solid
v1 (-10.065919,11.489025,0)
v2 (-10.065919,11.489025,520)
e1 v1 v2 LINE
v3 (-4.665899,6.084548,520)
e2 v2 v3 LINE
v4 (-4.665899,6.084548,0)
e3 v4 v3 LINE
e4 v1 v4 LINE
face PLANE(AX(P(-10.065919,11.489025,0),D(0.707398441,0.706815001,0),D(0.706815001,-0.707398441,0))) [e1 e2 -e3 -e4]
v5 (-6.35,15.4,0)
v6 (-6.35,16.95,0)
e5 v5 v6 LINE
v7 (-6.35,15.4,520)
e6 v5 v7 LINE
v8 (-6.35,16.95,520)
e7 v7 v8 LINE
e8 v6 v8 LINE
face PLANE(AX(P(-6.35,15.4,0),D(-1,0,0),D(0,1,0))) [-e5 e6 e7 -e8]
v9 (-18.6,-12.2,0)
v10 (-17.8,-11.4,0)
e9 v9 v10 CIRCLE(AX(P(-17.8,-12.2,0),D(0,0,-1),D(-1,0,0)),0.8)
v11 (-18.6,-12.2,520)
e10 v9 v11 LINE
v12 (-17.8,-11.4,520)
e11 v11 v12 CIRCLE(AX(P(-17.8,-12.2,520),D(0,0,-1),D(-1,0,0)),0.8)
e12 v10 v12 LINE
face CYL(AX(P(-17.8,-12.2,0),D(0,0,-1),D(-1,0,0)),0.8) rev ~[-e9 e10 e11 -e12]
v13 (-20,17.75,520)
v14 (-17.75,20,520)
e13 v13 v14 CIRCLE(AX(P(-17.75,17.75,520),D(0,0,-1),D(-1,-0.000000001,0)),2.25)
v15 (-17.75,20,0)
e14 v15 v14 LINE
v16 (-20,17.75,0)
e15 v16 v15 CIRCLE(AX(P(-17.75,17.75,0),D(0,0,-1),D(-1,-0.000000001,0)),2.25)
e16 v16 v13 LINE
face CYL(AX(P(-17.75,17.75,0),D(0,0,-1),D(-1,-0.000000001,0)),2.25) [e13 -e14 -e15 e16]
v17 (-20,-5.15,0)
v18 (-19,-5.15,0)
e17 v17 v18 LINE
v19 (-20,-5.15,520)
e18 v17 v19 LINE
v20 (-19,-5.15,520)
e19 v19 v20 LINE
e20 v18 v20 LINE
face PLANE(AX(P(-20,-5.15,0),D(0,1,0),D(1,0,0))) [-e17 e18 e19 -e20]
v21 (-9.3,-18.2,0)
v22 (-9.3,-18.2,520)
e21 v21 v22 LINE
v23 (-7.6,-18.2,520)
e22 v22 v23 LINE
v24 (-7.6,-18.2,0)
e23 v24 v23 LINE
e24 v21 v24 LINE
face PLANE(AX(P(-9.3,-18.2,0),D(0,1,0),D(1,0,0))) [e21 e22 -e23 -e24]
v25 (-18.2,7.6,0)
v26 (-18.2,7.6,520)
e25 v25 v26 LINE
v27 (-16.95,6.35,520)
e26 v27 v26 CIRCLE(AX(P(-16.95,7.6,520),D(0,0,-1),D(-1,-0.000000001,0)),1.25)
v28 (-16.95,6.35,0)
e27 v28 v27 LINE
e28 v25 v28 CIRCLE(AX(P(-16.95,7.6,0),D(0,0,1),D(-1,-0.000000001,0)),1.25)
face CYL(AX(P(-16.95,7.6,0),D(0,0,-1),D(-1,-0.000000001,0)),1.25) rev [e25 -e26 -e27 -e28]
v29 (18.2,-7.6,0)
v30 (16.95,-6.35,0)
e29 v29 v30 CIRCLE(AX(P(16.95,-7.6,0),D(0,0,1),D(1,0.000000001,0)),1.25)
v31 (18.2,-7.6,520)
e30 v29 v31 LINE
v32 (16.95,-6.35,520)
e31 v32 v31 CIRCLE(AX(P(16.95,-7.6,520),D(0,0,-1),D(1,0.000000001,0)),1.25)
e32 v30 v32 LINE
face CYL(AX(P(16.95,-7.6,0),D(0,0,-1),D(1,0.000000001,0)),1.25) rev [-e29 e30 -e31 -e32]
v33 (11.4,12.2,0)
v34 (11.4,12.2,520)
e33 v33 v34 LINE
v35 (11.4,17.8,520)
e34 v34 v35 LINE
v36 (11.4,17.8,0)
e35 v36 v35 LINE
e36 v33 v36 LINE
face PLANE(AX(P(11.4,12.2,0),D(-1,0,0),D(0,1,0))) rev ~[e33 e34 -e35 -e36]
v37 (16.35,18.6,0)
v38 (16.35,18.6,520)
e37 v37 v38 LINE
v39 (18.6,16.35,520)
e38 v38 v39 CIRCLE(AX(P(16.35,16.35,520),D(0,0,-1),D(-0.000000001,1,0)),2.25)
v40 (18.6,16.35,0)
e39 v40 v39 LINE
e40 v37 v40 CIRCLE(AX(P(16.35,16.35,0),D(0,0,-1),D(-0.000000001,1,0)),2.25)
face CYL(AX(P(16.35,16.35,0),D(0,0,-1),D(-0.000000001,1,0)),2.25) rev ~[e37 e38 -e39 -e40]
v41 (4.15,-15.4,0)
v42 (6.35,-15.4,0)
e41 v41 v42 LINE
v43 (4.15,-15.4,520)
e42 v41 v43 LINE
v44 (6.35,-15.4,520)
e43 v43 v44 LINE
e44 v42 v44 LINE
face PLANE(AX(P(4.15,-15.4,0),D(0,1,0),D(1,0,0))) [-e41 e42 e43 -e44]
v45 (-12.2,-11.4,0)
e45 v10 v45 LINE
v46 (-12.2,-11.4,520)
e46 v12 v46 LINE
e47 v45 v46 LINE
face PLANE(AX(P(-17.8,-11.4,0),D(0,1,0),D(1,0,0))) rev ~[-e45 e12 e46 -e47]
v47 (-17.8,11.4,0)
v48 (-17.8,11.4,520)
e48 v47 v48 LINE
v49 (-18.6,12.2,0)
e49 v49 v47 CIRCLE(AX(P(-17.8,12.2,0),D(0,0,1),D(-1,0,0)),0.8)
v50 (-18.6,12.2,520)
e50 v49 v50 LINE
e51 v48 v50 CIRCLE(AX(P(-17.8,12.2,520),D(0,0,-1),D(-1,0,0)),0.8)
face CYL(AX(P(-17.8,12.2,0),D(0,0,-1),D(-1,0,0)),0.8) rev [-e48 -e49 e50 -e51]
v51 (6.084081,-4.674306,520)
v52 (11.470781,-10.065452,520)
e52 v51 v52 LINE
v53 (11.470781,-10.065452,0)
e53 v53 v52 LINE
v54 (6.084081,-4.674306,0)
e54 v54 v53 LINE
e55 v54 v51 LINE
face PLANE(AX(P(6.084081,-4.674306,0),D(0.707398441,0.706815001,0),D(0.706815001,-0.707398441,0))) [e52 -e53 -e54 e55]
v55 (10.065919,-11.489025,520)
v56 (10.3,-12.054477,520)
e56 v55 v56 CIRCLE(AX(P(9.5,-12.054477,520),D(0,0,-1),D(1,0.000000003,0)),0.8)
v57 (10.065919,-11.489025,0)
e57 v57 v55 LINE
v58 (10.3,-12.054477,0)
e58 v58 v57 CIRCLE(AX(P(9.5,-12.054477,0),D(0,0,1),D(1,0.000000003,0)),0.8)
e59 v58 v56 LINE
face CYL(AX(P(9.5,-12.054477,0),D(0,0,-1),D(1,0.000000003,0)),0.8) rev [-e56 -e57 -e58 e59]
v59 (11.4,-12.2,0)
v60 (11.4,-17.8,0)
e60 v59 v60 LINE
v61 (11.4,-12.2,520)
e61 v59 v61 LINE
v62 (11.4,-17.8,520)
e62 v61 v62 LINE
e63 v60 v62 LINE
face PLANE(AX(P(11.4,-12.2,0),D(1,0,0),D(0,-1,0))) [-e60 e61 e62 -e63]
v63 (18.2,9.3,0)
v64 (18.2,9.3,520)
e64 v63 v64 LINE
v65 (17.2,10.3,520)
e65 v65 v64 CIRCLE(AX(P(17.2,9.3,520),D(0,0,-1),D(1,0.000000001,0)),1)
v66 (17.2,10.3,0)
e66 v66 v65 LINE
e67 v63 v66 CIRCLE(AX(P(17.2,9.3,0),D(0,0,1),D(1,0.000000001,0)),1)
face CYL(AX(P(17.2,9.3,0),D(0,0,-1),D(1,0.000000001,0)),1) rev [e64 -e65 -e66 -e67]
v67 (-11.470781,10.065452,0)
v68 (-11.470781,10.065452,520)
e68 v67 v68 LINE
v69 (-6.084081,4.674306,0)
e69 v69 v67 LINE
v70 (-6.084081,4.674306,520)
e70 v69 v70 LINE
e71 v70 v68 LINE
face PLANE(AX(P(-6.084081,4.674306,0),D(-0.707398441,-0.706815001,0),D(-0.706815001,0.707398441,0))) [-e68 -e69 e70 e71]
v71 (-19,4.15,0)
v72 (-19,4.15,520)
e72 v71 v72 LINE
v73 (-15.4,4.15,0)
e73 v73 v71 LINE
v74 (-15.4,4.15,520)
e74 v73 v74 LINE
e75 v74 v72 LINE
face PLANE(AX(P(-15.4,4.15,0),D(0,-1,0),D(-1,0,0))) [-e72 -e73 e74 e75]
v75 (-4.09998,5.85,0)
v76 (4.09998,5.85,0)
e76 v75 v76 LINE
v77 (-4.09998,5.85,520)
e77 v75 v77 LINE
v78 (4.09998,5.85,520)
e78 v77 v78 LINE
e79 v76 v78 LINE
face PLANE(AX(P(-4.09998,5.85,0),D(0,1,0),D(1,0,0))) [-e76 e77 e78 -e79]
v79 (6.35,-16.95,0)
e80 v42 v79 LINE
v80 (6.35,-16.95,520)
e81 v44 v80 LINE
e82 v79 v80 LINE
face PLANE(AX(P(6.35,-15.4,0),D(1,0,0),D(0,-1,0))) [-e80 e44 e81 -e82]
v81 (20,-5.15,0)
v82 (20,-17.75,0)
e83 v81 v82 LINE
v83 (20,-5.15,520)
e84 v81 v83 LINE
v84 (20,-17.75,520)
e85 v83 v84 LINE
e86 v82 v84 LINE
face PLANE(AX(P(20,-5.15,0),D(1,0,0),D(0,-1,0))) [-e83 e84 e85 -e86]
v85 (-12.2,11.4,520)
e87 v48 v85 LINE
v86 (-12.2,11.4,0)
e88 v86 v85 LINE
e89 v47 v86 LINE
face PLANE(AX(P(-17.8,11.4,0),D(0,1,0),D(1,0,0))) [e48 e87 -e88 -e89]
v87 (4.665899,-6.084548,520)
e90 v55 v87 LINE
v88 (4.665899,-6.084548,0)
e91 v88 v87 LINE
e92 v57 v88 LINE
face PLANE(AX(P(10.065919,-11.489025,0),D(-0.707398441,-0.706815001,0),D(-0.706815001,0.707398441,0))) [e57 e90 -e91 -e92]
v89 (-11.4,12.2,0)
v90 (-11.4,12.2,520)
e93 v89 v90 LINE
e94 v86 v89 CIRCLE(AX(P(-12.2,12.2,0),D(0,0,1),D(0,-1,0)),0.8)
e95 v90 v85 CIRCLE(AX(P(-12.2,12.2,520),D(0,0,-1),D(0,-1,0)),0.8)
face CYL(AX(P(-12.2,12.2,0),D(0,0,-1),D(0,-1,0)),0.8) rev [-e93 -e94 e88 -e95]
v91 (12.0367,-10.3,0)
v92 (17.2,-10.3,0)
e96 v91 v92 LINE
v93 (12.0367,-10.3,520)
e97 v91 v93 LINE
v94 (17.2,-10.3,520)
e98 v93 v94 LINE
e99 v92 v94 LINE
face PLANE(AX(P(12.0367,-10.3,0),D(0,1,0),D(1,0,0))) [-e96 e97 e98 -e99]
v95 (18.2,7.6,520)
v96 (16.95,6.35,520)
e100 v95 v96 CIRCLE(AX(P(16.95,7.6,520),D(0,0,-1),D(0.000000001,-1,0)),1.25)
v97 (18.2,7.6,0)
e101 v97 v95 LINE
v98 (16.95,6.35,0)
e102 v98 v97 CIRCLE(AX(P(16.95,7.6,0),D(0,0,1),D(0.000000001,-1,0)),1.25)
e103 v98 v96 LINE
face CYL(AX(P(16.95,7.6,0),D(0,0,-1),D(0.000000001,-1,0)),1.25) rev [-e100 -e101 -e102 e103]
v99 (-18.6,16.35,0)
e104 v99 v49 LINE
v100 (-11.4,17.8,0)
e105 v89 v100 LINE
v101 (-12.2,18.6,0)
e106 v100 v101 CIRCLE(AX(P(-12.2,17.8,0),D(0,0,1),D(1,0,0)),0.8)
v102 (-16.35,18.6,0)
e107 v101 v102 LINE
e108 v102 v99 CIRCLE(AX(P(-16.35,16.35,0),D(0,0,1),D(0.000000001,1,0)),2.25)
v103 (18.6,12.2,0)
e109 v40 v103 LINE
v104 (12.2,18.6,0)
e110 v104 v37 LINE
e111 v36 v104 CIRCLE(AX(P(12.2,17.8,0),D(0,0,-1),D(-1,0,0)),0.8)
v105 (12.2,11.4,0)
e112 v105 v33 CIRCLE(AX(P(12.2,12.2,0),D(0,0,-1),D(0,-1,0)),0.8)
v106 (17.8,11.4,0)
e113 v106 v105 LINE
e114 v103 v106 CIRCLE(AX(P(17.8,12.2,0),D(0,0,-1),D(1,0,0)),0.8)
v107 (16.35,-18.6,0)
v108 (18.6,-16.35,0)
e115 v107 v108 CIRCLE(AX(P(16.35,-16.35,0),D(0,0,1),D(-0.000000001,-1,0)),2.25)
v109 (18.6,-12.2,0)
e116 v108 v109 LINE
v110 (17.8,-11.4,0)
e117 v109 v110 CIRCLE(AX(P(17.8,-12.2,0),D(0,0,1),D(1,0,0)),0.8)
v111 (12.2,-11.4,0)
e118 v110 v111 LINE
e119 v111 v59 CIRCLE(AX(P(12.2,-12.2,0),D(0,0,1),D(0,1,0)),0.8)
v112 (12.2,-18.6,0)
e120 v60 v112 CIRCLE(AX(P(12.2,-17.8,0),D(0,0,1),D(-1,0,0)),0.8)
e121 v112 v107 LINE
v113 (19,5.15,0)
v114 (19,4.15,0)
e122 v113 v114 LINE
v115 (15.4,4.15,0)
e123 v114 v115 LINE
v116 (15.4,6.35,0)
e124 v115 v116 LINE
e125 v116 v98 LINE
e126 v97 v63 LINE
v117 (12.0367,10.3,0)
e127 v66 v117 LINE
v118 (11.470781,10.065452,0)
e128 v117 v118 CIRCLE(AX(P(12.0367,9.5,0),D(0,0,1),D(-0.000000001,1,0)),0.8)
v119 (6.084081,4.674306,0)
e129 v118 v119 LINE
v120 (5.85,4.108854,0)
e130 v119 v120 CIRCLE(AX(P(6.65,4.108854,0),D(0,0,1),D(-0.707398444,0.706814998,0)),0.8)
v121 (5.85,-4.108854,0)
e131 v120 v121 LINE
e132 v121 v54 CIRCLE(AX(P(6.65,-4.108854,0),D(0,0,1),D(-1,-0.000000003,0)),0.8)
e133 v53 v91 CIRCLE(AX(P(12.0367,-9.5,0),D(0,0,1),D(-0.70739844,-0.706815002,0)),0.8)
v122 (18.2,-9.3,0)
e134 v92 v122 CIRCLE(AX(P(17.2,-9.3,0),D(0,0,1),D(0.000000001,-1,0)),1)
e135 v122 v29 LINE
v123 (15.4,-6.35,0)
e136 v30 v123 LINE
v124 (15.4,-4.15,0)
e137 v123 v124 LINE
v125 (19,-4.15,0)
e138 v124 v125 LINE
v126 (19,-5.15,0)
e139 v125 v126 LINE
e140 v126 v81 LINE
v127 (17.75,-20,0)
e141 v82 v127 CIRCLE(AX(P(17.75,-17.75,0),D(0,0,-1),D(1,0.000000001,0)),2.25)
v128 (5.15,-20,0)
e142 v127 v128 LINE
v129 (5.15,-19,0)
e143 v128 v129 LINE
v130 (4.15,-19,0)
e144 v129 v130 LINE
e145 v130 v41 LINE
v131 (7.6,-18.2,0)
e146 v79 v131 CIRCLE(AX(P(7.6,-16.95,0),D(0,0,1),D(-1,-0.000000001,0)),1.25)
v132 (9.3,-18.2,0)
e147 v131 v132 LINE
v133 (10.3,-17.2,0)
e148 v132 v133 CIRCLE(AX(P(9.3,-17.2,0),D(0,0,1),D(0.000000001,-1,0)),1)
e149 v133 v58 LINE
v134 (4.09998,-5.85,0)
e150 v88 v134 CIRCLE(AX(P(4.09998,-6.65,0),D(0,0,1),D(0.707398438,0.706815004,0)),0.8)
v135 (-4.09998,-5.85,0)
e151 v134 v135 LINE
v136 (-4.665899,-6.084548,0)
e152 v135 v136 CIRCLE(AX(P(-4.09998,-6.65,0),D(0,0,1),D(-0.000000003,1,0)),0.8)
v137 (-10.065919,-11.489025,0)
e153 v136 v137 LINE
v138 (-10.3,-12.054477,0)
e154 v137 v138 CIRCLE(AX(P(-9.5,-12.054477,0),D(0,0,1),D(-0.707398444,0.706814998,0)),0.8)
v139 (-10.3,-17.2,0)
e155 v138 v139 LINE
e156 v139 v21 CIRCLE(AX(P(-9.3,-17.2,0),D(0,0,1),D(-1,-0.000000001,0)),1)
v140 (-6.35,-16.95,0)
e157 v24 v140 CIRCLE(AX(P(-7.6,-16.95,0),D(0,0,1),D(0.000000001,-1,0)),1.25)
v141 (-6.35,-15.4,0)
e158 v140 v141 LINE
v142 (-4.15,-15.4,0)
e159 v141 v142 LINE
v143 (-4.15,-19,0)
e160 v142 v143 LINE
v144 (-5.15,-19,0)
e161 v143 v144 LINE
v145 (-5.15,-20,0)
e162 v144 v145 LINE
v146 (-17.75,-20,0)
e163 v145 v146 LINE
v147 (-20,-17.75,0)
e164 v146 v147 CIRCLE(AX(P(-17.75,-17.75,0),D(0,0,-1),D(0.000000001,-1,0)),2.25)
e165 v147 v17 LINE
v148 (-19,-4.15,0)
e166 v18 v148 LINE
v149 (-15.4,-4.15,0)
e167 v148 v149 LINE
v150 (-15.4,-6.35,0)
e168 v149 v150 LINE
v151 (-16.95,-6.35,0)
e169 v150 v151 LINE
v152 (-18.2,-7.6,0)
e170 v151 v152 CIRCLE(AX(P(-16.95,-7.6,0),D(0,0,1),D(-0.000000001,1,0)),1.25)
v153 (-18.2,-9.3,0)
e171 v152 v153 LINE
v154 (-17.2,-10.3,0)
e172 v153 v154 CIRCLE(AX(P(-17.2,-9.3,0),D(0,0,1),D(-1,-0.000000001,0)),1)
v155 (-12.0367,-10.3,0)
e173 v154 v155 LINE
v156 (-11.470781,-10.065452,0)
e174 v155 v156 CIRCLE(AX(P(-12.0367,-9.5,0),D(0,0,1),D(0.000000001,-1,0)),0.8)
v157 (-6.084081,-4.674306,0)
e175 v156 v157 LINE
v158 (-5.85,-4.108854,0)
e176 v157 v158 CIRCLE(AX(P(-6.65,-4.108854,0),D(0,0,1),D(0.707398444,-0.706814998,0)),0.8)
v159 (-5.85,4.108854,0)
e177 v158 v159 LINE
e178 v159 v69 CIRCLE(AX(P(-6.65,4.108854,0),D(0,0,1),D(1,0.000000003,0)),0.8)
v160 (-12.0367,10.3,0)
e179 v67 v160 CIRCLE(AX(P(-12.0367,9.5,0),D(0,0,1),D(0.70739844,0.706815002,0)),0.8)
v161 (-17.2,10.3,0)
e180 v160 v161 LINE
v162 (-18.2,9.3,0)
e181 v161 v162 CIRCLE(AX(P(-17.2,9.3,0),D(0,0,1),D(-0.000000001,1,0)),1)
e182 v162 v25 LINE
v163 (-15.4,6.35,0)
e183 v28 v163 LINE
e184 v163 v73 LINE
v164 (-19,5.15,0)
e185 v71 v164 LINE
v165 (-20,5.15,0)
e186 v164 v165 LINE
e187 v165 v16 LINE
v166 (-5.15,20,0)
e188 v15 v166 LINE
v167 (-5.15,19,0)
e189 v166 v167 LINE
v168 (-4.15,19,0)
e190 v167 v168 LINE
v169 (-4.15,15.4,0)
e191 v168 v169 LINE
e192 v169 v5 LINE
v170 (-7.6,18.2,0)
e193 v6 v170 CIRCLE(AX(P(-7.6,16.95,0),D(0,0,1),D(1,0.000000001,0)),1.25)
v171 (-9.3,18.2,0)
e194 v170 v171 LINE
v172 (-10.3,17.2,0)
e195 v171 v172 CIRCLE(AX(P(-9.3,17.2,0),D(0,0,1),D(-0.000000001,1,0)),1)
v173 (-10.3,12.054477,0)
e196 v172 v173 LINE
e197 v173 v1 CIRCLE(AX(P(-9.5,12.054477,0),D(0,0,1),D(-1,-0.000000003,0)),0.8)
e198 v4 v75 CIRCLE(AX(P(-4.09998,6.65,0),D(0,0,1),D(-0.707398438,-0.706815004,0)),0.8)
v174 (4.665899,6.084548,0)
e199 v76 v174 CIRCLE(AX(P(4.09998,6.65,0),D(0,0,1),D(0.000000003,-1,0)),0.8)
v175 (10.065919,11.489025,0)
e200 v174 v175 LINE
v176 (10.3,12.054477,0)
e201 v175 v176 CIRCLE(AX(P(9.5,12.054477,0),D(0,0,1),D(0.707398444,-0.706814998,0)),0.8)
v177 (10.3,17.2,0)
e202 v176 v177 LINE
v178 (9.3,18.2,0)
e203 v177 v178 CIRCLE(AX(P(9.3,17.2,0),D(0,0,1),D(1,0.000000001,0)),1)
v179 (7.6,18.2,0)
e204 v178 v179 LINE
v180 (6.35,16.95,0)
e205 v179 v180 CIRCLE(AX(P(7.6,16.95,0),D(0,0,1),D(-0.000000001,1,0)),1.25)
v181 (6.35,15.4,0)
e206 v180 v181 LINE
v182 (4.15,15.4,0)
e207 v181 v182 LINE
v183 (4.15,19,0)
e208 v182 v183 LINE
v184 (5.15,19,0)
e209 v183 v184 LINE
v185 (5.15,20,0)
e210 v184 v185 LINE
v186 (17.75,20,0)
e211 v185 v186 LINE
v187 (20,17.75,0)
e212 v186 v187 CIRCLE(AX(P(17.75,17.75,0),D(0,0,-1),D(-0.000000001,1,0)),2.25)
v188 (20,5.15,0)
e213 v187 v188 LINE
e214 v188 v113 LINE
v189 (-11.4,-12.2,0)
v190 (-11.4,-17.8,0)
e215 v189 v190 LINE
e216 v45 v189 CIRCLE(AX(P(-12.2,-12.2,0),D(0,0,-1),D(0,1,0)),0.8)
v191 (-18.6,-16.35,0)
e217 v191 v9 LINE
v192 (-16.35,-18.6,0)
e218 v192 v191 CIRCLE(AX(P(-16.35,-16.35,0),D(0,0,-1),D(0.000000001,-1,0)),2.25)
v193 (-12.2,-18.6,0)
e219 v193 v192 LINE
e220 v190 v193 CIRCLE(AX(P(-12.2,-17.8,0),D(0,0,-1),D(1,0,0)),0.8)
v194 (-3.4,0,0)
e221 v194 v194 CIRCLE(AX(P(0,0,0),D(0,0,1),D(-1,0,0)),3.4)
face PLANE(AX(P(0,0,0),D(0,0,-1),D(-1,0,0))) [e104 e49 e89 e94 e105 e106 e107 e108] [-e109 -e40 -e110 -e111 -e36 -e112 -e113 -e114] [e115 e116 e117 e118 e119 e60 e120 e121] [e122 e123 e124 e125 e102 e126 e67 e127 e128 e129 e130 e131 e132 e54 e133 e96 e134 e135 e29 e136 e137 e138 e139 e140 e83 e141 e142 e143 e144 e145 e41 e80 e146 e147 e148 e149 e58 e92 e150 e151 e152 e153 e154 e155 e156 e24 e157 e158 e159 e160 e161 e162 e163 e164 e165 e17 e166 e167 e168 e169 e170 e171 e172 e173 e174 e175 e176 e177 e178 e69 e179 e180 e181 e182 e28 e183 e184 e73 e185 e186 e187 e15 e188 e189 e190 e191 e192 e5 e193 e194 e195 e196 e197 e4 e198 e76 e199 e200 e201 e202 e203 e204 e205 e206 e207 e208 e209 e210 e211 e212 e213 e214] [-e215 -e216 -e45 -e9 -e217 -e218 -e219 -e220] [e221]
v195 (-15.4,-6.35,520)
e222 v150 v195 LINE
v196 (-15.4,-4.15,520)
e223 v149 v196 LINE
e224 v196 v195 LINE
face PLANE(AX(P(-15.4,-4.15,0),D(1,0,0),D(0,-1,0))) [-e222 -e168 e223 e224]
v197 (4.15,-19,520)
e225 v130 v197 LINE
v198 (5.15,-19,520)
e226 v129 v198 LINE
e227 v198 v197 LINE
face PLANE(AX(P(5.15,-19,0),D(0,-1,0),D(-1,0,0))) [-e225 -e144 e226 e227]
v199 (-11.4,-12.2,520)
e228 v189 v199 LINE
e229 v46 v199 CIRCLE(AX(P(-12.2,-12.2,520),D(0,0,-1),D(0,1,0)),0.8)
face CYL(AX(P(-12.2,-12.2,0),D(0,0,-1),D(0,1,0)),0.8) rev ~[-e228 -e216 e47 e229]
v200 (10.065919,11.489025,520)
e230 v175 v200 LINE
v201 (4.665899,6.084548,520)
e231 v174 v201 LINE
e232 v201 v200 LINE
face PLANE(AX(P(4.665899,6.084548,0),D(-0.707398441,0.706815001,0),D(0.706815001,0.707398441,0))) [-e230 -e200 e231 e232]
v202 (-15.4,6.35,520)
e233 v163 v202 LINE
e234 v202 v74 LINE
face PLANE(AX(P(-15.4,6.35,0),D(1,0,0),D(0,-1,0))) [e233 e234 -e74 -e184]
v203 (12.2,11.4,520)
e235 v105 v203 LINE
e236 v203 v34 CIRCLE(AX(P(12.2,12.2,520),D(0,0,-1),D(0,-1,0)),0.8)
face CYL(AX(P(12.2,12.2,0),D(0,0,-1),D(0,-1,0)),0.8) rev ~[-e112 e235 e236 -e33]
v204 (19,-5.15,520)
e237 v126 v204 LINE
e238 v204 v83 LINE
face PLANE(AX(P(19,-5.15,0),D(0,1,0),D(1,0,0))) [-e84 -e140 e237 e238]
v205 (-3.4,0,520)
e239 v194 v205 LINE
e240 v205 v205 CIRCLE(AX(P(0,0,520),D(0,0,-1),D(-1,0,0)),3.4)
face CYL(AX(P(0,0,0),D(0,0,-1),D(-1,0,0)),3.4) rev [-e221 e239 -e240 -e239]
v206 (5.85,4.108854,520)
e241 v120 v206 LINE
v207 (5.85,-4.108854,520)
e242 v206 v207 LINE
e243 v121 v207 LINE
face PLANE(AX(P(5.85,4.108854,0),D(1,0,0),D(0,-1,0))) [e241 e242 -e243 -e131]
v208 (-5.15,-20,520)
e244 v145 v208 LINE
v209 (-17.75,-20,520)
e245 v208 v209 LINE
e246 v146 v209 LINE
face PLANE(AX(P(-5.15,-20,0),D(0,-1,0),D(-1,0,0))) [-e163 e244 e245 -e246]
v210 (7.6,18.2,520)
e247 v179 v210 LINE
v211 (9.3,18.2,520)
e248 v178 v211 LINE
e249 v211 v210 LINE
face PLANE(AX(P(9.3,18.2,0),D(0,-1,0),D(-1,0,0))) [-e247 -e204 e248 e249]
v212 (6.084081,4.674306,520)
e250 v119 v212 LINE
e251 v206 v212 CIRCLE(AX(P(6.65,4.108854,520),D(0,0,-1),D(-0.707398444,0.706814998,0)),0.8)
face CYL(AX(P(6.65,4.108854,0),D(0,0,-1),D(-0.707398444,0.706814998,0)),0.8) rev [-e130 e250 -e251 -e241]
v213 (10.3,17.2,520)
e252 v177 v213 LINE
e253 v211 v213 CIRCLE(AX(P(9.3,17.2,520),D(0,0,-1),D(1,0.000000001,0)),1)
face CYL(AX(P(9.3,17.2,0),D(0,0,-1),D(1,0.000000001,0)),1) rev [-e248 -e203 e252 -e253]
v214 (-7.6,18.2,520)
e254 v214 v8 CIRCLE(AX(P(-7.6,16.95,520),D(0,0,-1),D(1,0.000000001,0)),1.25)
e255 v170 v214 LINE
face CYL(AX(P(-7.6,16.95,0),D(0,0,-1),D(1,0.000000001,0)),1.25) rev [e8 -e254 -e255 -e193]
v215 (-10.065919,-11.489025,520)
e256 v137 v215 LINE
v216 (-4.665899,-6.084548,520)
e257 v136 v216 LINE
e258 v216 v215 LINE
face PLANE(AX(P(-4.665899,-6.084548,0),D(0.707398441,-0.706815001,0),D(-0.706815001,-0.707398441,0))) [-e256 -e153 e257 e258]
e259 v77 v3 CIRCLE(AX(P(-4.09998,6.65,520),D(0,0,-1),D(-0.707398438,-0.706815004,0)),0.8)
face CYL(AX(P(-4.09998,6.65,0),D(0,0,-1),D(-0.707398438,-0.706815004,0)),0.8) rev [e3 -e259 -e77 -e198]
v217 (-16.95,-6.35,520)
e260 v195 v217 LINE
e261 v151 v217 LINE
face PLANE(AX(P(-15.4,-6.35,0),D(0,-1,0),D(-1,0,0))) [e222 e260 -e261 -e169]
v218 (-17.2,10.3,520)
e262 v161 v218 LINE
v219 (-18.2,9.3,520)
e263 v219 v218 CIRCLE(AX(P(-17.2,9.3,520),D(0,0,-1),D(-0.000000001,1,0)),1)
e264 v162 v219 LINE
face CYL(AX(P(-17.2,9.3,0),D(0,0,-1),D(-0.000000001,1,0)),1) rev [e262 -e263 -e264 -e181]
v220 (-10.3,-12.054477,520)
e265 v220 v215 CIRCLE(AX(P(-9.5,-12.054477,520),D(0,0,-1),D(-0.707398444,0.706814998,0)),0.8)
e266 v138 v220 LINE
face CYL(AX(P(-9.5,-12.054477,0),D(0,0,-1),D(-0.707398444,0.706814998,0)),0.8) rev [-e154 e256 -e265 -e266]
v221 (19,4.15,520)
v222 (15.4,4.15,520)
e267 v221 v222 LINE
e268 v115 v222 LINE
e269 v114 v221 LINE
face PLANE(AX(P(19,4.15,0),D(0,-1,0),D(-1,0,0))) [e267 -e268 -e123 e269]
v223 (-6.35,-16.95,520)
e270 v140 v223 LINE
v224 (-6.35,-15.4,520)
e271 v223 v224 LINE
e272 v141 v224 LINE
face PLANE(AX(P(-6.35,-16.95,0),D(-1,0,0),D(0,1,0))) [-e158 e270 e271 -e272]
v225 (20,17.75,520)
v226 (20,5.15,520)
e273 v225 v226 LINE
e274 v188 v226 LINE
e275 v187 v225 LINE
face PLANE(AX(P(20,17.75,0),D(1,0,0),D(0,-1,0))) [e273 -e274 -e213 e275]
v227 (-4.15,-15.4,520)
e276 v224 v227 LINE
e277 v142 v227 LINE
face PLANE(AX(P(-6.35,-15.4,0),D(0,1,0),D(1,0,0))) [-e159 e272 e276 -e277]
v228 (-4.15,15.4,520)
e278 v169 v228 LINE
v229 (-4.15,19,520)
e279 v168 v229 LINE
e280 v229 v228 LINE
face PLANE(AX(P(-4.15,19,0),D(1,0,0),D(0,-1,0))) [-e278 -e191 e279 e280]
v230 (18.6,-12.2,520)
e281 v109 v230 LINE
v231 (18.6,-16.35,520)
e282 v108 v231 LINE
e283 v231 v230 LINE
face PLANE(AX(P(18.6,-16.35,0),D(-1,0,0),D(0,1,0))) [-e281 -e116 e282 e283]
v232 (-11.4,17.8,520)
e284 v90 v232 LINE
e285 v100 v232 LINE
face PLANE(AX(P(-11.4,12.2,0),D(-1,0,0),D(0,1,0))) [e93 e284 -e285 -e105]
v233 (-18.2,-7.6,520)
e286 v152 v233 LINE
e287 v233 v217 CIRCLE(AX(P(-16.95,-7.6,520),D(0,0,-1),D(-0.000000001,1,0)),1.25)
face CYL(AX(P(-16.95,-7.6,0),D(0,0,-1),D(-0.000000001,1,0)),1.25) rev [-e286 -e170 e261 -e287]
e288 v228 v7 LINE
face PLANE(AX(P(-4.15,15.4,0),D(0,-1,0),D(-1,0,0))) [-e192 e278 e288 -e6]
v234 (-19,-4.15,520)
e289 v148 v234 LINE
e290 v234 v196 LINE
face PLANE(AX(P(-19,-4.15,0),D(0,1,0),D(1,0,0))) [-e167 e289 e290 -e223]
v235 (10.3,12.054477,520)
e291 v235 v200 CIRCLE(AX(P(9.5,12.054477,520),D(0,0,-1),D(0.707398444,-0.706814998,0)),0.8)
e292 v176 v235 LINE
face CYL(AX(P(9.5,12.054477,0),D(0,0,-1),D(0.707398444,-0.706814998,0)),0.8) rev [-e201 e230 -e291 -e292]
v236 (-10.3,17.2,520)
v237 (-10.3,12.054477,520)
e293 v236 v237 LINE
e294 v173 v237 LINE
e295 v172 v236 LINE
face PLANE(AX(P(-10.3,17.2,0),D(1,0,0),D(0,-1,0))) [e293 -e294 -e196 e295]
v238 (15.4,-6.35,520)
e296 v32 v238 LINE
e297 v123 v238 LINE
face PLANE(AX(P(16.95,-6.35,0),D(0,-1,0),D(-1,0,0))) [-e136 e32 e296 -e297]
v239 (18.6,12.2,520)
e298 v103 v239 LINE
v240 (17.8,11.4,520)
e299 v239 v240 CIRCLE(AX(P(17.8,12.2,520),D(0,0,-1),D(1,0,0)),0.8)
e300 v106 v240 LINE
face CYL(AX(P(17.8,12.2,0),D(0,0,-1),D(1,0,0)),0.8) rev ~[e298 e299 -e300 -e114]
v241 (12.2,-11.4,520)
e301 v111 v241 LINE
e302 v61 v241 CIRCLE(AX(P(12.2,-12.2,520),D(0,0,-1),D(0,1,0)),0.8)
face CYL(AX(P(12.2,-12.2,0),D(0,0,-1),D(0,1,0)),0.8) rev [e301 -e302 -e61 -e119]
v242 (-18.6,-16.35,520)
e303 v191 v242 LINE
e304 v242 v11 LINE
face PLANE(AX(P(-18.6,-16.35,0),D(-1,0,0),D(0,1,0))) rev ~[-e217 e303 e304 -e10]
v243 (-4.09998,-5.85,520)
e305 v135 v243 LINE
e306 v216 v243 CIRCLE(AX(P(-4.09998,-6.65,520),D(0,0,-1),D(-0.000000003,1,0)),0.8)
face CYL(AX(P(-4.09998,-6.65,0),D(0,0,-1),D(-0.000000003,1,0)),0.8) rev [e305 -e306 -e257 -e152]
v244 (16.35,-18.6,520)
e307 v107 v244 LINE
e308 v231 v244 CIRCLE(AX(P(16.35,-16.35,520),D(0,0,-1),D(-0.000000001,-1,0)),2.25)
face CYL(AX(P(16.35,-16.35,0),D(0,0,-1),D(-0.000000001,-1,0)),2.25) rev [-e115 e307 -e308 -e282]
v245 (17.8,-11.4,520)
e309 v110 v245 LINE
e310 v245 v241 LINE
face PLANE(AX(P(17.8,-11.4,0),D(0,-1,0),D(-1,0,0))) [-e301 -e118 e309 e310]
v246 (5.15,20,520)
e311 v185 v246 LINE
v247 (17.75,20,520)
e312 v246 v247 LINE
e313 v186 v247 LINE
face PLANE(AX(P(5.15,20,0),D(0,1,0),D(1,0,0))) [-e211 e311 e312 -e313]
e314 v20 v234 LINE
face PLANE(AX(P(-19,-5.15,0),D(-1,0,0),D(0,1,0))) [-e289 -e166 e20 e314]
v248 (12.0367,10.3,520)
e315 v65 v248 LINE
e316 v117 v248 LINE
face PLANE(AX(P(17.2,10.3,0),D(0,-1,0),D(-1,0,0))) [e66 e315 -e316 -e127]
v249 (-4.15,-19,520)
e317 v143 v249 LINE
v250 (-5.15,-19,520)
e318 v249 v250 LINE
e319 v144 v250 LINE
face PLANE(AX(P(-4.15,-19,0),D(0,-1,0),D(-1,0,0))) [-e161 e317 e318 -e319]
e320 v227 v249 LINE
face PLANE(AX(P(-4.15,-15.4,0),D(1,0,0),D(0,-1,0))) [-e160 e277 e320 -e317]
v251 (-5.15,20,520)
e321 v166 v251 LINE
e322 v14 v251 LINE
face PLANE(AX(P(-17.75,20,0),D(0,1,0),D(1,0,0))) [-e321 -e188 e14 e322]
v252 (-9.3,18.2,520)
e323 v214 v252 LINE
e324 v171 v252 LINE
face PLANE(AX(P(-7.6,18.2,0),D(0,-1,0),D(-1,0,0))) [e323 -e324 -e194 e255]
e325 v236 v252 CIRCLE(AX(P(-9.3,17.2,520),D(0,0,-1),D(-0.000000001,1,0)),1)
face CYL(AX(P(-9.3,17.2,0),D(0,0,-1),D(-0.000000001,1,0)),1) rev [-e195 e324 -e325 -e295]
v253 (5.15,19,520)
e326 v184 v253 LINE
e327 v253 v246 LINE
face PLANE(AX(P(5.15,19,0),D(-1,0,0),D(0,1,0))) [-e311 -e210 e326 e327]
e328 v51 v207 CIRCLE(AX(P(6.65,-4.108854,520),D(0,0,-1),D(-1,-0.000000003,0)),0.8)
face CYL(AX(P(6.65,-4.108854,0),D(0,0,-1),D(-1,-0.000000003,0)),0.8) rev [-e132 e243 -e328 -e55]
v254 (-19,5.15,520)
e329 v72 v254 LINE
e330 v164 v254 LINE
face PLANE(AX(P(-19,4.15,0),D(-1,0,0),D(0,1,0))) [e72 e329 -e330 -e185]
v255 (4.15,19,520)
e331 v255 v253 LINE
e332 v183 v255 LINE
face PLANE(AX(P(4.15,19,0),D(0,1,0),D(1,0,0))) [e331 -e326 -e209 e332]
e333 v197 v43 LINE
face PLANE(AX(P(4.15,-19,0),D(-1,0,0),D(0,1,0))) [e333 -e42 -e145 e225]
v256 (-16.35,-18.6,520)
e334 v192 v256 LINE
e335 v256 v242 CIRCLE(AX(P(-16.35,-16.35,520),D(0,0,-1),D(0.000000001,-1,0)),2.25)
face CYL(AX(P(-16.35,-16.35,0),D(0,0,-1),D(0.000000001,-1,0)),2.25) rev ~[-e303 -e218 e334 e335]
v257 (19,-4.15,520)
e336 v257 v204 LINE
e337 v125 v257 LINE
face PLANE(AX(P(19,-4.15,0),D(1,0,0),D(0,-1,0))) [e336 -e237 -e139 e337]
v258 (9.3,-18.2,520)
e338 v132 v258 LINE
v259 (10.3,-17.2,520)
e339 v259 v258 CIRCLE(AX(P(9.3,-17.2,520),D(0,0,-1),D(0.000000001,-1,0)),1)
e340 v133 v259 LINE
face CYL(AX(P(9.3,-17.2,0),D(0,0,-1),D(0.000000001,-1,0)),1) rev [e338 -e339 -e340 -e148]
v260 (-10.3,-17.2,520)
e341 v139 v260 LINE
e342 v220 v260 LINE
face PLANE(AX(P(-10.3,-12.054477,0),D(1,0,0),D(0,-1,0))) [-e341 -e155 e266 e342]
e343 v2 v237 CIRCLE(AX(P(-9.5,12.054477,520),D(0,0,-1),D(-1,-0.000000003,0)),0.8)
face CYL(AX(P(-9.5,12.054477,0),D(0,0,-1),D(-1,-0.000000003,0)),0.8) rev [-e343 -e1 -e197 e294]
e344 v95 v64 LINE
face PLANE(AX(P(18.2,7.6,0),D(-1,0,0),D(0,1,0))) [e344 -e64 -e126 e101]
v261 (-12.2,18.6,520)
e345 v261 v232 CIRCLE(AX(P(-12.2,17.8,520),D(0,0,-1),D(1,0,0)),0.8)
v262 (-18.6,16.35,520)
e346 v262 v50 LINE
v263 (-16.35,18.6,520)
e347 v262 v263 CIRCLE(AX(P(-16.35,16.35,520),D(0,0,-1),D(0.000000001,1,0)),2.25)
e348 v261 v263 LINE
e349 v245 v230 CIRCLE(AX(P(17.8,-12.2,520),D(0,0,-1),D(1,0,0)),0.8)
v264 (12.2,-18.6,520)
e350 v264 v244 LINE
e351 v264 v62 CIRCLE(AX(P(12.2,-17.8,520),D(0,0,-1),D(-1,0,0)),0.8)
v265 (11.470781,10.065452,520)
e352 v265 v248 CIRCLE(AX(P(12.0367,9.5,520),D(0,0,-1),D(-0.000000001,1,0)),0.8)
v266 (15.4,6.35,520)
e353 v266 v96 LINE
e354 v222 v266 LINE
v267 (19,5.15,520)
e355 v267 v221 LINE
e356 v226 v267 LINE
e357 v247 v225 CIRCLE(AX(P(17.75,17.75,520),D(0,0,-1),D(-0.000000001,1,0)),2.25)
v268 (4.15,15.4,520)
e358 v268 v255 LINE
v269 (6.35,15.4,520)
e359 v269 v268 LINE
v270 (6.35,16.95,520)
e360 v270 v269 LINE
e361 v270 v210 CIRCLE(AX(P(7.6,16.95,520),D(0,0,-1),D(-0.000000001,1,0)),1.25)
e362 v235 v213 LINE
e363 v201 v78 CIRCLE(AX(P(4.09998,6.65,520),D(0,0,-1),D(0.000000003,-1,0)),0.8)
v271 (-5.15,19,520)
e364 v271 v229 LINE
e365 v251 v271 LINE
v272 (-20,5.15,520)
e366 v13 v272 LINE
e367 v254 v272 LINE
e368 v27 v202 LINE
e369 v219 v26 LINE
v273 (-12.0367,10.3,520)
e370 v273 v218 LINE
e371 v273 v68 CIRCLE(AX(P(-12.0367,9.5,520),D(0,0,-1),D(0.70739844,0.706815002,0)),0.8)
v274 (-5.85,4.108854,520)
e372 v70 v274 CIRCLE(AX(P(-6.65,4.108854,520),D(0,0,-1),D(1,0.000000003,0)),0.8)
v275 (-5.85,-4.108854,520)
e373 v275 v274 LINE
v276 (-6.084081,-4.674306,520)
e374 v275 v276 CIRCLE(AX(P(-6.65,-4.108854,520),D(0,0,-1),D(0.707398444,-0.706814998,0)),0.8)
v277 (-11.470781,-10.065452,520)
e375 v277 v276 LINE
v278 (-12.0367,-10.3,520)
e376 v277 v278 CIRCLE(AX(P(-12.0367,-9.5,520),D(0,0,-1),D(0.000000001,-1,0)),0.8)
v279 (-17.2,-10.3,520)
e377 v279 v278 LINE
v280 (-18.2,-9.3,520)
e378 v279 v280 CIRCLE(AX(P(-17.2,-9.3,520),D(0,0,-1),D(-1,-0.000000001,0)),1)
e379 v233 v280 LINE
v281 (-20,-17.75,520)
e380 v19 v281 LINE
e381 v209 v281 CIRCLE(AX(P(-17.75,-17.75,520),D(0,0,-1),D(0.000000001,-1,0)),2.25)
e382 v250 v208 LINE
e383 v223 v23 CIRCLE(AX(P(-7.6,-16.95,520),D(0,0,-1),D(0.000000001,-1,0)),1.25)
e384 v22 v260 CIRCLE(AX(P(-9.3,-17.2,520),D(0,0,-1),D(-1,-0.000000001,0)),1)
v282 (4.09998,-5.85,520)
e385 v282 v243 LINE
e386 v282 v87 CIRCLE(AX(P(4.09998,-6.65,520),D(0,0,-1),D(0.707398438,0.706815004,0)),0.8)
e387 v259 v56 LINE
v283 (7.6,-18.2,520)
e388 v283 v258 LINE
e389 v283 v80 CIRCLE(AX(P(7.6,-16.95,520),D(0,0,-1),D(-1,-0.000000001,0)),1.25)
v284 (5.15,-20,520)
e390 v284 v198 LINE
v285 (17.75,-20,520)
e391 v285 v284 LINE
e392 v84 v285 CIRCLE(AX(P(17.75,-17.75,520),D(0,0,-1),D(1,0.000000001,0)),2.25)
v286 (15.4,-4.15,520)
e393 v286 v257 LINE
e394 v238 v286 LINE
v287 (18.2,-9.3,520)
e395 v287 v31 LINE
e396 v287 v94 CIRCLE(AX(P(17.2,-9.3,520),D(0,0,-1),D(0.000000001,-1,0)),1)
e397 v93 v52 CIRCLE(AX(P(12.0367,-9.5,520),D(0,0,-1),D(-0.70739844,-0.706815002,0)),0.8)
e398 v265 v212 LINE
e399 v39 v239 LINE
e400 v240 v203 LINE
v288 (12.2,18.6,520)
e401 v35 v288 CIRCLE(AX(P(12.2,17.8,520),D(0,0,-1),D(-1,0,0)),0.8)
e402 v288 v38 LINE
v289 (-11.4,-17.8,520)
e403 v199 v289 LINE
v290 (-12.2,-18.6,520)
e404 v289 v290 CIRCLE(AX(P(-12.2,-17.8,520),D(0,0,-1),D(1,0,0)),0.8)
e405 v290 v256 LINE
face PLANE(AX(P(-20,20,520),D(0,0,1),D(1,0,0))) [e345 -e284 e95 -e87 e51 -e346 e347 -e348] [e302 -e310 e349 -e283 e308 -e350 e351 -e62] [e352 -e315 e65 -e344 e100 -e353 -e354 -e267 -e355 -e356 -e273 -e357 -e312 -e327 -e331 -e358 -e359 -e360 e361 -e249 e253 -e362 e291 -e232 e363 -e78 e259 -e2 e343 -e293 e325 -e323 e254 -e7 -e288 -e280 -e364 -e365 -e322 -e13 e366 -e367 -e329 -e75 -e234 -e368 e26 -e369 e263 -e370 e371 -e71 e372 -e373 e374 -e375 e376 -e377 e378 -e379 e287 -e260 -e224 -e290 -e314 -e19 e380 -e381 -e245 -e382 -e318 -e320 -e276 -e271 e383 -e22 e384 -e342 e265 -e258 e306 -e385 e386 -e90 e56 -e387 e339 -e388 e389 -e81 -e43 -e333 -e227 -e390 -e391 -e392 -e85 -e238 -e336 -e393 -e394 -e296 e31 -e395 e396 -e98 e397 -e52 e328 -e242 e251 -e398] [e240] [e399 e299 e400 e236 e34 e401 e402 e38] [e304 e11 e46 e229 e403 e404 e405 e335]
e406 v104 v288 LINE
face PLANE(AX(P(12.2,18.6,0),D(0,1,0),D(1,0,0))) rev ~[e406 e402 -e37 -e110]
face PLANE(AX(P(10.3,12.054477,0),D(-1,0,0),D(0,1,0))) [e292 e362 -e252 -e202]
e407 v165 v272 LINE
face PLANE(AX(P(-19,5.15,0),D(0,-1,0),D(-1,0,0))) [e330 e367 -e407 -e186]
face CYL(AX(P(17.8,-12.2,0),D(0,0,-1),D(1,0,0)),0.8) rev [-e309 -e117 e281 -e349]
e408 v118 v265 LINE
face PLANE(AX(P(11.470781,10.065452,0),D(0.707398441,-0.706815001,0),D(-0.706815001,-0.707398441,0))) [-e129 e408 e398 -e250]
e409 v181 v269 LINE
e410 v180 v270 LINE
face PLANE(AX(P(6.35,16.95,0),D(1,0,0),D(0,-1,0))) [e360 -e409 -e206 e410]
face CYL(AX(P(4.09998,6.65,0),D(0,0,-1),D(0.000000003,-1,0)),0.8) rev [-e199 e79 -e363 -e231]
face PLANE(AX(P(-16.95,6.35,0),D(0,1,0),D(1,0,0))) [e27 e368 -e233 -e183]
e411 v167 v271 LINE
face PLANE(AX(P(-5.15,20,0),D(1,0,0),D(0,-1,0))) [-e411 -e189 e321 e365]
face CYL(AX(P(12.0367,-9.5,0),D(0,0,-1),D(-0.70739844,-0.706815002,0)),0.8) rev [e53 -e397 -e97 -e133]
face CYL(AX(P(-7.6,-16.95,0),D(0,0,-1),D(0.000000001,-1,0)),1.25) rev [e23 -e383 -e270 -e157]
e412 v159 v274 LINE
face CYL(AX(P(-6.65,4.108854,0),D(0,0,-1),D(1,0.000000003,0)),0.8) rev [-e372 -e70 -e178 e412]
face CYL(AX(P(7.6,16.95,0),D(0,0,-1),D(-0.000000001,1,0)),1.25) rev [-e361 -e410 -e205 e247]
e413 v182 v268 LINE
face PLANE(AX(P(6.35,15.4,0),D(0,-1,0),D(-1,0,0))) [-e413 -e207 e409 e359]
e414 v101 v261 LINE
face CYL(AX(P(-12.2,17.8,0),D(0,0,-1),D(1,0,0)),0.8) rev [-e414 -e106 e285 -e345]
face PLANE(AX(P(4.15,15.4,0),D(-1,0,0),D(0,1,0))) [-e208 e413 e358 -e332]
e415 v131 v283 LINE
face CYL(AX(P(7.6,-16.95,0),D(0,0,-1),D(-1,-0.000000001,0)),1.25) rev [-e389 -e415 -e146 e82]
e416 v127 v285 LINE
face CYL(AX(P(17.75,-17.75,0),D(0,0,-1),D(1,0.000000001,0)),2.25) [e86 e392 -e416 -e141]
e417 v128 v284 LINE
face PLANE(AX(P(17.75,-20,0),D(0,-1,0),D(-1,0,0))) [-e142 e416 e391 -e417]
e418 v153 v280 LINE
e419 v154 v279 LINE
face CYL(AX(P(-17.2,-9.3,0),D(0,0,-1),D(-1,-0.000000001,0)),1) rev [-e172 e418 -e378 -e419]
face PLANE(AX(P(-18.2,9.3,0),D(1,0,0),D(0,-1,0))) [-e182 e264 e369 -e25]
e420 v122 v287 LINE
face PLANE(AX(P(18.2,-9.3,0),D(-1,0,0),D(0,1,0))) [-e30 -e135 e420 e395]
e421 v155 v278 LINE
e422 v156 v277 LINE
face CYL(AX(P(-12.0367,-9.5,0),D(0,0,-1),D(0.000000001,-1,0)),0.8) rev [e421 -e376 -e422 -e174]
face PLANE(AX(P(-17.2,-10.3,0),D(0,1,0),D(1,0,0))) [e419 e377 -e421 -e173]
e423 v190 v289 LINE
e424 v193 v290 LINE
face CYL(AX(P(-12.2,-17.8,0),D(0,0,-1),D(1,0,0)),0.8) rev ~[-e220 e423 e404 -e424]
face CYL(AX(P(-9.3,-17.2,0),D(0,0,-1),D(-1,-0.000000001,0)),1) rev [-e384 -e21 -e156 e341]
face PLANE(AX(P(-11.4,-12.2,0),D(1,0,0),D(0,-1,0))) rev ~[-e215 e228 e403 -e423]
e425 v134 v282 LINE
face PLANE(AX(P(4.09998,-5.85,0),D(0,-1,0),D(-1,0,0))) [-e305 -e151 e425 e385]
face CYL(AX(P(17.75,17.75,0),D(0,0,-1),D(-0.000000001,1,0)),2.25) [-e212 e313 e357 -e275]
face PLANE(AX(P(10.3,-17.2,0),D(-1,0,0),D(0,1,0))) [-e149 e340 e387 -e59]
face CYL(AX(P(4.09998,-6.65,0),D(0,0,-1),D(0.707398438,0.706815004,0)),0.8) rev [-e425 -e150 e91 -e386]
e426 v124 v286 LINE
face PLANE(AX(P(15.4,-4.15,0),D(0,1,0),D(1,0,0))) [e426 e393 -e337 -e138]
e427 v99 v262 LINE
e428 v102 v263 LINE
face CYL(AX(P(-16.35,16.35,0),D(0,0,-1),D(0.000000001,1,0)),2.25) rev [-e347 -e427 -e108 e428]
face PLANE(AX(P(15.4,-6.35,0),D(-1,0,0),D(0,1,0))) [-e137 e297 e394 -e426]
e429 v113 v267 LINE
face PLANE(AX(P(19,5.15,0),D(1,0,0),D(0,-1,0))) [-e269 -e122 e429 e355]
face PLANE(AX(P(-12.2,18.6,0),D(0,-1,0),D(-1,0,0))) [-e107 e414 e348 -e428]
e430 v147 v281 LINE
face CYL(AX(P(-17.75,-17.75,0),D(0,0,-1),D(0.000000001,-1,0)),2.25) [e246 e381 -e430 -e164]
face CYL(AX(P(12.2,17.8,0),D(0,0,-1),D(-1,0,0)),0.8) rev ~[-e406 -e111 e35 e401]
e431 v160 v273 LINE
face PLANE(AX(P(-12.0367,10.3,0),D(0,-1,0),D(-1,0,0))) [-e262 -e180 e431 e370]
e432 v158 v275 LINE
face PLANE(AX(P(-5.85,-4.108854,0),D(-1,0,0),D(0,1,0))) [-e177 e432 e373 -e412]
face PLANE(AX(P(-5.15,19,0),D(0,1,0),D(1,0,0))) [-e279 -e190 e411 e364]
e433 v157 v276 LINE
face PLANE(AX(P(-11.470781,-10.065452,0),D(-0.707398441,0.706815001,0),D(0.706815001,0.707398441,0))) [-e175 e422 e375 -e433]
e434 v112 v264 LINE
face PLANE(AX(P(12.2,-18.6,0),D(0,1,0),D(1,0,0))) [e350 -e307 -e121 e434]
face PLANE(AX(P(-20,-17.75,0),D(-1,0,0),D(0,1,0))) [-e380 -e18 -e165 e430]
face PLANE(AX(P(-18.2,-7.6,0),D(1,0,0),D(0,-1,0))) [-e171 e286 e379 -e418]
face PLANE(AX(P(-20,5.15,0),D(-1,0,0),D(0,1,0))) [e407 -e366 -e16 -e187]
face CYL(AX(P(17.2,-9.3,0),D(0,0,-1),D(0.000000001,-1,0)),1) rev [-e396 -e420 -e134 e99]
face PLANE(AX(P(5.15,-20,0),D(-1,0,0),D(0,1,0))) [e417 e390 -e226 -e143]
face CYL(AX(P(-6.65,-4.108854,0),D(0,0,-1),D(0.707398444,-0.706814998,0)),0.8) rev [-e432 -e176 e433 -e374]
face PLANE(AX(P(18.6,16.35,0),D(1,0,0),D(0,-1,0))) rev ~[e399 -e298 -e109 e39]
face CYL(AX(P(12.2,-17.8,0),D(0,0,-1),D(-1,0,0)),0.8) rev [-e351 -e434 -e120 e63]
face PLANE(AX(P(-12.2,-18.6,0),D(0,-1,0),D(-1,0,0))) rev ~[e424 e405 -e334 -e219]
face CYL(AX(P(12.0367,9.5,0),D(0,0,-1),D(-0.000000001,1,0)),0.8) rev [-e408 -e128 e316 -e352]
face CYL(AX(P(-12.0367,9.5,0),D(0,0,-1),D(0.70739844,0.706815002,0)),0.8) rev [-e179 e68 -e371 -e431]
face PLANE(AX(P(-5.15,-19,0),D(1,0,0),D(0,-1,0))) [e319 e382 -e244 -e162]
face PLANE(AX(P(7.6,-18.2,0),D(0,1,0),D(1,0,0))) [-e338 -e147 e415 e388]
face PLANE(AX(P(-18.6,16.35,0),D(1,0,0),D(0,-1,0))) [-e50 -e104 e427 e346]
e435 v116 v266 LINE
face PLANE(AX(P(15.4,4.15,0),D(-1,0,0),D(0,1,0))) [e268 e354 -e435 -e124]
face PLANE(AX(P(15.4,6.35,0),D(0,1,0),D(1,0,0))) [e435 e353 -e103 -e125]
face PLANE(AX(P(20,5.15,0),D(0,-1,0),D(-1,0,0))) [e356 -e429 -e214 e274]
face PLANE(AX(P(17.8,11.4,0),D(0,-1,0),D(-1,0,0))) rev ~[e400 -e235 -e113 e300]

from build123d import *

# Parameters (mm, degrees)
SKETCH1_R           = 3.4
BOSS_EXTRUDE1_DEPTH = 713
SKETCH2_W           = 40
SKETCH2_H           = 193
CUT_EXTRUDE1_DEPTH  = 715.401147815


with BuildPart() as part:
    # Sketch1 → Boss-Extrude1 (new body)
    with BuildSketch(Plane.XY):
        with BuildLine():
            Line((20, 17.75), (20, 5.15))
            Line((20, 5.15), (19, 5.15))
            Line((19, 5.15), (19, 4.15))
            Line((19, 4.15), (15.4, 4.15))
            Line((15.4, 4.15), (15.4, 6.35))
            Line((15.4, 6.35), (16.95, 6.35))
            ThreePointArc((16.95, 6.35), (17.833883476, 6.716116524), (18.2, 7.6))
            Line((18.2, 7.6), (18.2, 9.3))
            ThreePointArc((18.2, 9.3), (17.907106781, 10.007106781), (17.2, 10.3))
            Line((17.2, 10.3), (12.03669957, 10.3))
            ThreePointArc((12.03669957, 10.3), (11.73040037, 10.239040459), (11.470780817, 10.065452001))
            Line((11.470780817, 10.065452001), (6.084081247, 4.674305984))
            ThreePointArc((6.084081247, 4.674305984), (5.910833239, 4.414848262), (5.85, 4.108853983))
            Line((5.85, 4.108853983), (5.85, -4.108853983))
            ThreePointArc((5.85, -4.108853983), (5.910833239, -4.414848262), (6.084081247, -4.674305984))
            Line((6.084081247, -4.674305984), (11.470780817, -10.065452001))
            ThreePointArc((11.470780817, -10.065452001), (11.73040037, -10.239040459), (12.03669957, -10.3))
            Line((12.03669957, -10.3), (17.2, -10.3))
            ThreePointArc((17.2, -10.3), (17.907106781, -10.007106781), (18.2, -9.3))
            Line((18.2, -9.3), (18.2, -7.6))
            ThreePointArc((18.2, -7.6), (17.833883476, -6.716116524), (16.95, -6.35))
            Line((16.95, -6.35), (15.4, -6.35))
            Line((15.4, -6.35), (15.4, -4.15))
            Line((15.4, -4.15), (19, -4.15))
            Line((19, -4.15), (19, -5.15))
            Line((19, -5.15), (20, -5.15))
            Line((20, -5.15), (20, -17.75))
            ThreePointArc((20, -17.75), (19.340990258, -19.340990258), (17.75, -20))
            Line((17.75, -20), (5.15, -20))
            Line((5.15, -20), (5.15, -19))
            Line((5.15, -19), (4.15, -19))
            Line((4.15, -19), (4.15, -15.4))
            Line((4.15, -15.4), (6.35, -15.4))
            Line((6.35, -15.4), (6.35, -16.95))
            ThreePointArc((6.35, -16.95), (6.716116524, -17.833883476), (7.6, -18.2))
            Line((7.6, -18.2), (9.3, -18.2))
            ThreePointArc((9.3, -18.2), (10.007106781, -17.907106781), (10.3, -17.2))
            Line((10.3, -17.2), (10.3, -12.054477022))
            ThreePointArc((10.3, -12.054477022), (10.239166761, -11.748482743), (10.065918753, -11.489025021))
            Line((10.065918753, -11.489025021), (4.665899173, -6.084547999))
            ThreePointArc((4.665899173, -6.084547999), (4.406279619, -5.910959541), (4.09998042, -5.85))
            Line((4.09998042, -5.85), (-4.09998042, -5.85))
            ThreePointArc((-4.09998042, -5.85), (-4.406279619, -5.910959541), (-4.665899173, -6.084547999))
            Line((-4.665899173, -6.084547999), (-10.065918753, -11.489025021))
            ThreePointArc((-10.065918753, -11.489025021), (-10.239166761, -11.748482743), (-10.3, -12.054477022))
            Line((-10.3, -12.054477022), (-10.3, -17.2))
            ThreePointArc((-10.3, -17.2), (-10.007106781, -17.907106781), (-9.3, -18.2))
            Line((-9.3, -18.2), (-7.6, -18.2))
            ThreePointArc((-7.6, -18.2), (-6.716116524, -17.833883476), (-6.35, -16.95))
            Line((-6.35, -16.95), (-6.35, -15.4))
            Line((-6.35, -15.4), (-4.15, -15.4))
            Line((-4.15, -15.4), (-4.15, -19))
            Line((-4.15, -19), (-5.15, -19))
            Line((-5.15, -19), (-5.15, -20))
            Line((-5.15, -20), (-17.75, -20))
            ThreePointArc((-17.75, -20), (-19.340990258, -19.340990258), (-20, -17.75))
            Line((-20, -17.75), (-20, -5.15))
            Line((-20, -5.15), (-19, -5.15))
            Line((-19, -5.15), (-19, -4.15))
            Line((-19, -4.15), (-15.4, -4.15))
            Line((-15.4, -4.15), (-15.4, -6.35))
            Line((-15.4, -6.35), (-16.95, -6.35))
            ThreePointArc((-16.95, -6.35), (-17.833883476, -6.716116524), (-18.2, -7.6))
            Line((-18.2, -7.6), (-18.2, -9.3))
            ThreePointArc((-18.2, -9.3), (-17.907106781, -10.007106781), (-17.2, -10.3))
            Line((-17.2, -10.3), (-12.03669957, -10.3))
            ThreePointArc((-12.03669957, -10.3), (-11.73040037, -10.239040459), (-11.470780817, -10.065452001))
            Line((-11.470780817, -10.065452001), (-6.084081247, -4.674305984))
            ThreePointArc((-6.084081247, -4.674305984), (-5.910833239, -4.414848262), (-5.85, -4.108853983))
            Line((-5.85, -4.108853983), (-5.85, 4.108853983))
            ThreePointArc((-5.85, 4.108853983), (-5.910833239, 4.414848262), (-6.084081247, 4.674305984))
            Line((-6.084081247, 4.674305984), (-11.470780817, 10.065452001))
            ThreePointArc((-11.470780817, 10.065452001), (-11.73040037, 10.239040459), (-12.03669957, 10.3))
            Line((-12.03669957, 10.3), (-17.2, 10.3))
            ThreePointArc((-17.2, 10.3), (-17.907106781, 10.007106781), (-18.2, 9.3))
            Line((-18.2, 9.3), (-18.2, 7.6))
            ThreePointArc((-18.2, 7.6), (-17.833883476, 6.716116524), (-16.95, 6.35))
            Line((-16.95, 6.35), (-15.4, 6.35))
            Line((-15.4, 6.35), (-15.4, 4.15))
            Line((-15.4, 4.15), (-19, 4.15))
            Line((-19, 4.15), (-19, 5.15))
            Line((-19, 5.15), (-20, 5.15))
            Line((-20, 5.15), (-20, 17.75))
            ThreePointArc((-20, 17.75), (-19.340990258, 19.340990258), (-17.75, 20))
            Line((-17.75, 20), (-5.15, 20))
            Line((-5.15, 20), (-5.15, 19))
            Line((-5.15, 19), (-4.15, 19))
            Line((-4.15, 19), (-4.15, 15.4))
            Line((-4.15, 15.4), (-6.35, 15.4))
            Line((-6.35, 15.4), (-6.35, 16.95))
            ThreePointArc((-6.35, 16.95), (-6.716116524, 17.833883476), (-7.6, 18.2))
            Line((-7.6, 18.2), (-9.3, 18.2))
            ThreePointArc((-9.3, 18.2), (-10.007106781, 17.907106781), (-10.3, 17.2))
            Line((-10.3, 17.2), (-10.3, 12.054477022))
            ThreePointArc((-10.3, 12.054477022), (-10.239166761, 11.748482743), (-10.065918753, 11.489025021))
            Line((-10.065918753, 11.489025021), (-4.665899173, 6.084547999))
            ThreePointArc((-4.665899173, 6.084547999), (-4.406279619, 5.910959541), (-4.09998042, 5.85))
            Line((-4.09998042, 5.85), (4.09998042, 5.85))
            ThreePointArc((4.09998042, 5.85), (4.406279619, 5.910959541), (4.665899173, 6.084547999))
            Line((4.665899173, 6.084547999), (10.065918753, 11.489025021))
            ThreePointArc((10.065918753, 11.489025021), (10.239166761, 11.748482743), (10.3, 12.054477022))
            Line((10.3, 12.054477022), (10.3, 17.2))
            ThreePointArc((10.3, 17.2), (10.007106781, 17.907106781), (9.3, 18.2))
            Line((9.3, 18.2), (7.6, 18.2))
            ThreePointArc((7.6, 18.2), (6.716116524, 17.833883476), (6.35, 16.95))
            Line((6.35, 16.95), (6.35, 15.4))
            Line((6.35, 15.4), (4.15, 15.4))
            Line((4.15, 15.4), (4.15, 19))
            Line((4.15, 19), (5.15, 19))
            Line((5.15, 19), (5.15, 20))
            Line((5.15, 20), (17.75, 20))
            ThreePointArc((17.75, 20), (19.340990258, 19.340990258), (20, 17.75))
        make_face()
        with Locations(Location((0, 0, 0), (0, 0, 180))):
            Circle(SKETCH1_R, mode=Mode.SUBTRACT)
        with BuildLine():
            Line((18.6, 16.35), (18.6, 12.2))
            ThreePointArc((18.6, 12.2), (18.365685425, 11.634314575), (17.8, 11.4))
            Line((17.8, 11.4), (12.2, 11.4))
            ThreePointArc((12.2, 11.4), (11.634314575, 11.634314575), (11.4, 12.2))
            Line((11.4, 12.2), (11.4, 17.8))
            ThreePointArc((11.4, 17.8), (11.634314575, 18.365685425), (12.2, 18.6))
            Line((12.2, 18.6), (16.35, 18.6))
            ThreePointArc((16.35, 18.6), (17.940990258, 17.940990258), (18.6, 16.35))
        make_face(mode=Mode.SUBTRACT)
        with BuildLine():
            Line((-12.2, 18.6), (-16.35, 18.6))
            ThreePointArc((-16.35, 18.6), (-17.940990258, 17.940990258), (-18.6, 16.35))
            Line((-18.6, 16.35), (-18.6, 12.2))
            ThreePointArc((-18.6, 12.2), (-18.365685425, 11.634314575), (-17.8, 11.4))
            Line((-17.8, 11.4), (-12.2, 11.4))
            ThreePointArc((-12.2, 11.4), (-11.634314575, 11.634314575), (-11.4, 12.2))
            Line((-11.4, 12.2), (-11.4, 17.8))
            ThreePointArc((-11.4, 17.8), (-11.634314575, 18.365685425), (-12.2, 18.6))
        make_face(mode=Mode.SUBTRACT)
        with BuildLine():
            Line((-18.6, -16.35), (-18.6, -12.2))
            ThreePointArc((-18.6, -12.2), (-18.365685425, -11.634314575), (-17.8, -11.4))
            Line((-17.8, -11.4), (-12.2, -11.4))
            ThreePointArc((-12.2, -11.4), (-11.634314575, -11.634314575), (-11.4, -12.2))
            Line((-11.4, -12.2), (-11.4, -17.8))
            ThreePointArc((-11.4, -17.8), (-11.634314575, -18.365685425), (-12.2, -18.6))
            Line((-12.2, -18.6), (-16.35, -18.6))
            ThreePointArc((-16.35, -18.6), (-17.940990258, -17.940990258), (-18.6, -16.35))
        make_face(mode=Mode.SUBTRACT)
        with BuildLine():
            Line((12.2, -18.6), (16.35, -18.6))
            ThreePointArc((16.35, -18.6), (17.940990258, -17.940990258), (18.6, -16.35))
            Line((18.6, -16.35), (18.6, -12.2))
            ThreePointArc((18.6, -12.2), (18.365685425, -11.634314575), (17.8, -11.4))
            Line((17.8, -11.4), (12.2, -11.4))
            ThreePointArc((12.2, -11.4), (11.634314575, -11.634314575), (11.4, -12.2))
            Line((11.4, -12.2), (11.4, -17.8))
            ThreePointArc((11.4, -17.8), (11.634314575, -18.365685425), (12.2, -18.6))
        make_face(mode=Mode.SUBTRACT)
    extrude(amount=BOSS_EXTRUDE1_DEPTH)

    # Sketch2 → Cut-Extrude1 (cut, through all)
    with BuildSketch(Plane(origin=(0, 20, 0), x_dir=(1, 0, 0), z_dir=(0, 1, 0))):
        with Locations((0, -616.5)):
            Rectangle(SKETCH2_W, SKETCH2_H)
    extrude(amount=-CUT_EXTRUDE1_DEPTH, mode=Mode.SUBTRACT)


solid = part.part
